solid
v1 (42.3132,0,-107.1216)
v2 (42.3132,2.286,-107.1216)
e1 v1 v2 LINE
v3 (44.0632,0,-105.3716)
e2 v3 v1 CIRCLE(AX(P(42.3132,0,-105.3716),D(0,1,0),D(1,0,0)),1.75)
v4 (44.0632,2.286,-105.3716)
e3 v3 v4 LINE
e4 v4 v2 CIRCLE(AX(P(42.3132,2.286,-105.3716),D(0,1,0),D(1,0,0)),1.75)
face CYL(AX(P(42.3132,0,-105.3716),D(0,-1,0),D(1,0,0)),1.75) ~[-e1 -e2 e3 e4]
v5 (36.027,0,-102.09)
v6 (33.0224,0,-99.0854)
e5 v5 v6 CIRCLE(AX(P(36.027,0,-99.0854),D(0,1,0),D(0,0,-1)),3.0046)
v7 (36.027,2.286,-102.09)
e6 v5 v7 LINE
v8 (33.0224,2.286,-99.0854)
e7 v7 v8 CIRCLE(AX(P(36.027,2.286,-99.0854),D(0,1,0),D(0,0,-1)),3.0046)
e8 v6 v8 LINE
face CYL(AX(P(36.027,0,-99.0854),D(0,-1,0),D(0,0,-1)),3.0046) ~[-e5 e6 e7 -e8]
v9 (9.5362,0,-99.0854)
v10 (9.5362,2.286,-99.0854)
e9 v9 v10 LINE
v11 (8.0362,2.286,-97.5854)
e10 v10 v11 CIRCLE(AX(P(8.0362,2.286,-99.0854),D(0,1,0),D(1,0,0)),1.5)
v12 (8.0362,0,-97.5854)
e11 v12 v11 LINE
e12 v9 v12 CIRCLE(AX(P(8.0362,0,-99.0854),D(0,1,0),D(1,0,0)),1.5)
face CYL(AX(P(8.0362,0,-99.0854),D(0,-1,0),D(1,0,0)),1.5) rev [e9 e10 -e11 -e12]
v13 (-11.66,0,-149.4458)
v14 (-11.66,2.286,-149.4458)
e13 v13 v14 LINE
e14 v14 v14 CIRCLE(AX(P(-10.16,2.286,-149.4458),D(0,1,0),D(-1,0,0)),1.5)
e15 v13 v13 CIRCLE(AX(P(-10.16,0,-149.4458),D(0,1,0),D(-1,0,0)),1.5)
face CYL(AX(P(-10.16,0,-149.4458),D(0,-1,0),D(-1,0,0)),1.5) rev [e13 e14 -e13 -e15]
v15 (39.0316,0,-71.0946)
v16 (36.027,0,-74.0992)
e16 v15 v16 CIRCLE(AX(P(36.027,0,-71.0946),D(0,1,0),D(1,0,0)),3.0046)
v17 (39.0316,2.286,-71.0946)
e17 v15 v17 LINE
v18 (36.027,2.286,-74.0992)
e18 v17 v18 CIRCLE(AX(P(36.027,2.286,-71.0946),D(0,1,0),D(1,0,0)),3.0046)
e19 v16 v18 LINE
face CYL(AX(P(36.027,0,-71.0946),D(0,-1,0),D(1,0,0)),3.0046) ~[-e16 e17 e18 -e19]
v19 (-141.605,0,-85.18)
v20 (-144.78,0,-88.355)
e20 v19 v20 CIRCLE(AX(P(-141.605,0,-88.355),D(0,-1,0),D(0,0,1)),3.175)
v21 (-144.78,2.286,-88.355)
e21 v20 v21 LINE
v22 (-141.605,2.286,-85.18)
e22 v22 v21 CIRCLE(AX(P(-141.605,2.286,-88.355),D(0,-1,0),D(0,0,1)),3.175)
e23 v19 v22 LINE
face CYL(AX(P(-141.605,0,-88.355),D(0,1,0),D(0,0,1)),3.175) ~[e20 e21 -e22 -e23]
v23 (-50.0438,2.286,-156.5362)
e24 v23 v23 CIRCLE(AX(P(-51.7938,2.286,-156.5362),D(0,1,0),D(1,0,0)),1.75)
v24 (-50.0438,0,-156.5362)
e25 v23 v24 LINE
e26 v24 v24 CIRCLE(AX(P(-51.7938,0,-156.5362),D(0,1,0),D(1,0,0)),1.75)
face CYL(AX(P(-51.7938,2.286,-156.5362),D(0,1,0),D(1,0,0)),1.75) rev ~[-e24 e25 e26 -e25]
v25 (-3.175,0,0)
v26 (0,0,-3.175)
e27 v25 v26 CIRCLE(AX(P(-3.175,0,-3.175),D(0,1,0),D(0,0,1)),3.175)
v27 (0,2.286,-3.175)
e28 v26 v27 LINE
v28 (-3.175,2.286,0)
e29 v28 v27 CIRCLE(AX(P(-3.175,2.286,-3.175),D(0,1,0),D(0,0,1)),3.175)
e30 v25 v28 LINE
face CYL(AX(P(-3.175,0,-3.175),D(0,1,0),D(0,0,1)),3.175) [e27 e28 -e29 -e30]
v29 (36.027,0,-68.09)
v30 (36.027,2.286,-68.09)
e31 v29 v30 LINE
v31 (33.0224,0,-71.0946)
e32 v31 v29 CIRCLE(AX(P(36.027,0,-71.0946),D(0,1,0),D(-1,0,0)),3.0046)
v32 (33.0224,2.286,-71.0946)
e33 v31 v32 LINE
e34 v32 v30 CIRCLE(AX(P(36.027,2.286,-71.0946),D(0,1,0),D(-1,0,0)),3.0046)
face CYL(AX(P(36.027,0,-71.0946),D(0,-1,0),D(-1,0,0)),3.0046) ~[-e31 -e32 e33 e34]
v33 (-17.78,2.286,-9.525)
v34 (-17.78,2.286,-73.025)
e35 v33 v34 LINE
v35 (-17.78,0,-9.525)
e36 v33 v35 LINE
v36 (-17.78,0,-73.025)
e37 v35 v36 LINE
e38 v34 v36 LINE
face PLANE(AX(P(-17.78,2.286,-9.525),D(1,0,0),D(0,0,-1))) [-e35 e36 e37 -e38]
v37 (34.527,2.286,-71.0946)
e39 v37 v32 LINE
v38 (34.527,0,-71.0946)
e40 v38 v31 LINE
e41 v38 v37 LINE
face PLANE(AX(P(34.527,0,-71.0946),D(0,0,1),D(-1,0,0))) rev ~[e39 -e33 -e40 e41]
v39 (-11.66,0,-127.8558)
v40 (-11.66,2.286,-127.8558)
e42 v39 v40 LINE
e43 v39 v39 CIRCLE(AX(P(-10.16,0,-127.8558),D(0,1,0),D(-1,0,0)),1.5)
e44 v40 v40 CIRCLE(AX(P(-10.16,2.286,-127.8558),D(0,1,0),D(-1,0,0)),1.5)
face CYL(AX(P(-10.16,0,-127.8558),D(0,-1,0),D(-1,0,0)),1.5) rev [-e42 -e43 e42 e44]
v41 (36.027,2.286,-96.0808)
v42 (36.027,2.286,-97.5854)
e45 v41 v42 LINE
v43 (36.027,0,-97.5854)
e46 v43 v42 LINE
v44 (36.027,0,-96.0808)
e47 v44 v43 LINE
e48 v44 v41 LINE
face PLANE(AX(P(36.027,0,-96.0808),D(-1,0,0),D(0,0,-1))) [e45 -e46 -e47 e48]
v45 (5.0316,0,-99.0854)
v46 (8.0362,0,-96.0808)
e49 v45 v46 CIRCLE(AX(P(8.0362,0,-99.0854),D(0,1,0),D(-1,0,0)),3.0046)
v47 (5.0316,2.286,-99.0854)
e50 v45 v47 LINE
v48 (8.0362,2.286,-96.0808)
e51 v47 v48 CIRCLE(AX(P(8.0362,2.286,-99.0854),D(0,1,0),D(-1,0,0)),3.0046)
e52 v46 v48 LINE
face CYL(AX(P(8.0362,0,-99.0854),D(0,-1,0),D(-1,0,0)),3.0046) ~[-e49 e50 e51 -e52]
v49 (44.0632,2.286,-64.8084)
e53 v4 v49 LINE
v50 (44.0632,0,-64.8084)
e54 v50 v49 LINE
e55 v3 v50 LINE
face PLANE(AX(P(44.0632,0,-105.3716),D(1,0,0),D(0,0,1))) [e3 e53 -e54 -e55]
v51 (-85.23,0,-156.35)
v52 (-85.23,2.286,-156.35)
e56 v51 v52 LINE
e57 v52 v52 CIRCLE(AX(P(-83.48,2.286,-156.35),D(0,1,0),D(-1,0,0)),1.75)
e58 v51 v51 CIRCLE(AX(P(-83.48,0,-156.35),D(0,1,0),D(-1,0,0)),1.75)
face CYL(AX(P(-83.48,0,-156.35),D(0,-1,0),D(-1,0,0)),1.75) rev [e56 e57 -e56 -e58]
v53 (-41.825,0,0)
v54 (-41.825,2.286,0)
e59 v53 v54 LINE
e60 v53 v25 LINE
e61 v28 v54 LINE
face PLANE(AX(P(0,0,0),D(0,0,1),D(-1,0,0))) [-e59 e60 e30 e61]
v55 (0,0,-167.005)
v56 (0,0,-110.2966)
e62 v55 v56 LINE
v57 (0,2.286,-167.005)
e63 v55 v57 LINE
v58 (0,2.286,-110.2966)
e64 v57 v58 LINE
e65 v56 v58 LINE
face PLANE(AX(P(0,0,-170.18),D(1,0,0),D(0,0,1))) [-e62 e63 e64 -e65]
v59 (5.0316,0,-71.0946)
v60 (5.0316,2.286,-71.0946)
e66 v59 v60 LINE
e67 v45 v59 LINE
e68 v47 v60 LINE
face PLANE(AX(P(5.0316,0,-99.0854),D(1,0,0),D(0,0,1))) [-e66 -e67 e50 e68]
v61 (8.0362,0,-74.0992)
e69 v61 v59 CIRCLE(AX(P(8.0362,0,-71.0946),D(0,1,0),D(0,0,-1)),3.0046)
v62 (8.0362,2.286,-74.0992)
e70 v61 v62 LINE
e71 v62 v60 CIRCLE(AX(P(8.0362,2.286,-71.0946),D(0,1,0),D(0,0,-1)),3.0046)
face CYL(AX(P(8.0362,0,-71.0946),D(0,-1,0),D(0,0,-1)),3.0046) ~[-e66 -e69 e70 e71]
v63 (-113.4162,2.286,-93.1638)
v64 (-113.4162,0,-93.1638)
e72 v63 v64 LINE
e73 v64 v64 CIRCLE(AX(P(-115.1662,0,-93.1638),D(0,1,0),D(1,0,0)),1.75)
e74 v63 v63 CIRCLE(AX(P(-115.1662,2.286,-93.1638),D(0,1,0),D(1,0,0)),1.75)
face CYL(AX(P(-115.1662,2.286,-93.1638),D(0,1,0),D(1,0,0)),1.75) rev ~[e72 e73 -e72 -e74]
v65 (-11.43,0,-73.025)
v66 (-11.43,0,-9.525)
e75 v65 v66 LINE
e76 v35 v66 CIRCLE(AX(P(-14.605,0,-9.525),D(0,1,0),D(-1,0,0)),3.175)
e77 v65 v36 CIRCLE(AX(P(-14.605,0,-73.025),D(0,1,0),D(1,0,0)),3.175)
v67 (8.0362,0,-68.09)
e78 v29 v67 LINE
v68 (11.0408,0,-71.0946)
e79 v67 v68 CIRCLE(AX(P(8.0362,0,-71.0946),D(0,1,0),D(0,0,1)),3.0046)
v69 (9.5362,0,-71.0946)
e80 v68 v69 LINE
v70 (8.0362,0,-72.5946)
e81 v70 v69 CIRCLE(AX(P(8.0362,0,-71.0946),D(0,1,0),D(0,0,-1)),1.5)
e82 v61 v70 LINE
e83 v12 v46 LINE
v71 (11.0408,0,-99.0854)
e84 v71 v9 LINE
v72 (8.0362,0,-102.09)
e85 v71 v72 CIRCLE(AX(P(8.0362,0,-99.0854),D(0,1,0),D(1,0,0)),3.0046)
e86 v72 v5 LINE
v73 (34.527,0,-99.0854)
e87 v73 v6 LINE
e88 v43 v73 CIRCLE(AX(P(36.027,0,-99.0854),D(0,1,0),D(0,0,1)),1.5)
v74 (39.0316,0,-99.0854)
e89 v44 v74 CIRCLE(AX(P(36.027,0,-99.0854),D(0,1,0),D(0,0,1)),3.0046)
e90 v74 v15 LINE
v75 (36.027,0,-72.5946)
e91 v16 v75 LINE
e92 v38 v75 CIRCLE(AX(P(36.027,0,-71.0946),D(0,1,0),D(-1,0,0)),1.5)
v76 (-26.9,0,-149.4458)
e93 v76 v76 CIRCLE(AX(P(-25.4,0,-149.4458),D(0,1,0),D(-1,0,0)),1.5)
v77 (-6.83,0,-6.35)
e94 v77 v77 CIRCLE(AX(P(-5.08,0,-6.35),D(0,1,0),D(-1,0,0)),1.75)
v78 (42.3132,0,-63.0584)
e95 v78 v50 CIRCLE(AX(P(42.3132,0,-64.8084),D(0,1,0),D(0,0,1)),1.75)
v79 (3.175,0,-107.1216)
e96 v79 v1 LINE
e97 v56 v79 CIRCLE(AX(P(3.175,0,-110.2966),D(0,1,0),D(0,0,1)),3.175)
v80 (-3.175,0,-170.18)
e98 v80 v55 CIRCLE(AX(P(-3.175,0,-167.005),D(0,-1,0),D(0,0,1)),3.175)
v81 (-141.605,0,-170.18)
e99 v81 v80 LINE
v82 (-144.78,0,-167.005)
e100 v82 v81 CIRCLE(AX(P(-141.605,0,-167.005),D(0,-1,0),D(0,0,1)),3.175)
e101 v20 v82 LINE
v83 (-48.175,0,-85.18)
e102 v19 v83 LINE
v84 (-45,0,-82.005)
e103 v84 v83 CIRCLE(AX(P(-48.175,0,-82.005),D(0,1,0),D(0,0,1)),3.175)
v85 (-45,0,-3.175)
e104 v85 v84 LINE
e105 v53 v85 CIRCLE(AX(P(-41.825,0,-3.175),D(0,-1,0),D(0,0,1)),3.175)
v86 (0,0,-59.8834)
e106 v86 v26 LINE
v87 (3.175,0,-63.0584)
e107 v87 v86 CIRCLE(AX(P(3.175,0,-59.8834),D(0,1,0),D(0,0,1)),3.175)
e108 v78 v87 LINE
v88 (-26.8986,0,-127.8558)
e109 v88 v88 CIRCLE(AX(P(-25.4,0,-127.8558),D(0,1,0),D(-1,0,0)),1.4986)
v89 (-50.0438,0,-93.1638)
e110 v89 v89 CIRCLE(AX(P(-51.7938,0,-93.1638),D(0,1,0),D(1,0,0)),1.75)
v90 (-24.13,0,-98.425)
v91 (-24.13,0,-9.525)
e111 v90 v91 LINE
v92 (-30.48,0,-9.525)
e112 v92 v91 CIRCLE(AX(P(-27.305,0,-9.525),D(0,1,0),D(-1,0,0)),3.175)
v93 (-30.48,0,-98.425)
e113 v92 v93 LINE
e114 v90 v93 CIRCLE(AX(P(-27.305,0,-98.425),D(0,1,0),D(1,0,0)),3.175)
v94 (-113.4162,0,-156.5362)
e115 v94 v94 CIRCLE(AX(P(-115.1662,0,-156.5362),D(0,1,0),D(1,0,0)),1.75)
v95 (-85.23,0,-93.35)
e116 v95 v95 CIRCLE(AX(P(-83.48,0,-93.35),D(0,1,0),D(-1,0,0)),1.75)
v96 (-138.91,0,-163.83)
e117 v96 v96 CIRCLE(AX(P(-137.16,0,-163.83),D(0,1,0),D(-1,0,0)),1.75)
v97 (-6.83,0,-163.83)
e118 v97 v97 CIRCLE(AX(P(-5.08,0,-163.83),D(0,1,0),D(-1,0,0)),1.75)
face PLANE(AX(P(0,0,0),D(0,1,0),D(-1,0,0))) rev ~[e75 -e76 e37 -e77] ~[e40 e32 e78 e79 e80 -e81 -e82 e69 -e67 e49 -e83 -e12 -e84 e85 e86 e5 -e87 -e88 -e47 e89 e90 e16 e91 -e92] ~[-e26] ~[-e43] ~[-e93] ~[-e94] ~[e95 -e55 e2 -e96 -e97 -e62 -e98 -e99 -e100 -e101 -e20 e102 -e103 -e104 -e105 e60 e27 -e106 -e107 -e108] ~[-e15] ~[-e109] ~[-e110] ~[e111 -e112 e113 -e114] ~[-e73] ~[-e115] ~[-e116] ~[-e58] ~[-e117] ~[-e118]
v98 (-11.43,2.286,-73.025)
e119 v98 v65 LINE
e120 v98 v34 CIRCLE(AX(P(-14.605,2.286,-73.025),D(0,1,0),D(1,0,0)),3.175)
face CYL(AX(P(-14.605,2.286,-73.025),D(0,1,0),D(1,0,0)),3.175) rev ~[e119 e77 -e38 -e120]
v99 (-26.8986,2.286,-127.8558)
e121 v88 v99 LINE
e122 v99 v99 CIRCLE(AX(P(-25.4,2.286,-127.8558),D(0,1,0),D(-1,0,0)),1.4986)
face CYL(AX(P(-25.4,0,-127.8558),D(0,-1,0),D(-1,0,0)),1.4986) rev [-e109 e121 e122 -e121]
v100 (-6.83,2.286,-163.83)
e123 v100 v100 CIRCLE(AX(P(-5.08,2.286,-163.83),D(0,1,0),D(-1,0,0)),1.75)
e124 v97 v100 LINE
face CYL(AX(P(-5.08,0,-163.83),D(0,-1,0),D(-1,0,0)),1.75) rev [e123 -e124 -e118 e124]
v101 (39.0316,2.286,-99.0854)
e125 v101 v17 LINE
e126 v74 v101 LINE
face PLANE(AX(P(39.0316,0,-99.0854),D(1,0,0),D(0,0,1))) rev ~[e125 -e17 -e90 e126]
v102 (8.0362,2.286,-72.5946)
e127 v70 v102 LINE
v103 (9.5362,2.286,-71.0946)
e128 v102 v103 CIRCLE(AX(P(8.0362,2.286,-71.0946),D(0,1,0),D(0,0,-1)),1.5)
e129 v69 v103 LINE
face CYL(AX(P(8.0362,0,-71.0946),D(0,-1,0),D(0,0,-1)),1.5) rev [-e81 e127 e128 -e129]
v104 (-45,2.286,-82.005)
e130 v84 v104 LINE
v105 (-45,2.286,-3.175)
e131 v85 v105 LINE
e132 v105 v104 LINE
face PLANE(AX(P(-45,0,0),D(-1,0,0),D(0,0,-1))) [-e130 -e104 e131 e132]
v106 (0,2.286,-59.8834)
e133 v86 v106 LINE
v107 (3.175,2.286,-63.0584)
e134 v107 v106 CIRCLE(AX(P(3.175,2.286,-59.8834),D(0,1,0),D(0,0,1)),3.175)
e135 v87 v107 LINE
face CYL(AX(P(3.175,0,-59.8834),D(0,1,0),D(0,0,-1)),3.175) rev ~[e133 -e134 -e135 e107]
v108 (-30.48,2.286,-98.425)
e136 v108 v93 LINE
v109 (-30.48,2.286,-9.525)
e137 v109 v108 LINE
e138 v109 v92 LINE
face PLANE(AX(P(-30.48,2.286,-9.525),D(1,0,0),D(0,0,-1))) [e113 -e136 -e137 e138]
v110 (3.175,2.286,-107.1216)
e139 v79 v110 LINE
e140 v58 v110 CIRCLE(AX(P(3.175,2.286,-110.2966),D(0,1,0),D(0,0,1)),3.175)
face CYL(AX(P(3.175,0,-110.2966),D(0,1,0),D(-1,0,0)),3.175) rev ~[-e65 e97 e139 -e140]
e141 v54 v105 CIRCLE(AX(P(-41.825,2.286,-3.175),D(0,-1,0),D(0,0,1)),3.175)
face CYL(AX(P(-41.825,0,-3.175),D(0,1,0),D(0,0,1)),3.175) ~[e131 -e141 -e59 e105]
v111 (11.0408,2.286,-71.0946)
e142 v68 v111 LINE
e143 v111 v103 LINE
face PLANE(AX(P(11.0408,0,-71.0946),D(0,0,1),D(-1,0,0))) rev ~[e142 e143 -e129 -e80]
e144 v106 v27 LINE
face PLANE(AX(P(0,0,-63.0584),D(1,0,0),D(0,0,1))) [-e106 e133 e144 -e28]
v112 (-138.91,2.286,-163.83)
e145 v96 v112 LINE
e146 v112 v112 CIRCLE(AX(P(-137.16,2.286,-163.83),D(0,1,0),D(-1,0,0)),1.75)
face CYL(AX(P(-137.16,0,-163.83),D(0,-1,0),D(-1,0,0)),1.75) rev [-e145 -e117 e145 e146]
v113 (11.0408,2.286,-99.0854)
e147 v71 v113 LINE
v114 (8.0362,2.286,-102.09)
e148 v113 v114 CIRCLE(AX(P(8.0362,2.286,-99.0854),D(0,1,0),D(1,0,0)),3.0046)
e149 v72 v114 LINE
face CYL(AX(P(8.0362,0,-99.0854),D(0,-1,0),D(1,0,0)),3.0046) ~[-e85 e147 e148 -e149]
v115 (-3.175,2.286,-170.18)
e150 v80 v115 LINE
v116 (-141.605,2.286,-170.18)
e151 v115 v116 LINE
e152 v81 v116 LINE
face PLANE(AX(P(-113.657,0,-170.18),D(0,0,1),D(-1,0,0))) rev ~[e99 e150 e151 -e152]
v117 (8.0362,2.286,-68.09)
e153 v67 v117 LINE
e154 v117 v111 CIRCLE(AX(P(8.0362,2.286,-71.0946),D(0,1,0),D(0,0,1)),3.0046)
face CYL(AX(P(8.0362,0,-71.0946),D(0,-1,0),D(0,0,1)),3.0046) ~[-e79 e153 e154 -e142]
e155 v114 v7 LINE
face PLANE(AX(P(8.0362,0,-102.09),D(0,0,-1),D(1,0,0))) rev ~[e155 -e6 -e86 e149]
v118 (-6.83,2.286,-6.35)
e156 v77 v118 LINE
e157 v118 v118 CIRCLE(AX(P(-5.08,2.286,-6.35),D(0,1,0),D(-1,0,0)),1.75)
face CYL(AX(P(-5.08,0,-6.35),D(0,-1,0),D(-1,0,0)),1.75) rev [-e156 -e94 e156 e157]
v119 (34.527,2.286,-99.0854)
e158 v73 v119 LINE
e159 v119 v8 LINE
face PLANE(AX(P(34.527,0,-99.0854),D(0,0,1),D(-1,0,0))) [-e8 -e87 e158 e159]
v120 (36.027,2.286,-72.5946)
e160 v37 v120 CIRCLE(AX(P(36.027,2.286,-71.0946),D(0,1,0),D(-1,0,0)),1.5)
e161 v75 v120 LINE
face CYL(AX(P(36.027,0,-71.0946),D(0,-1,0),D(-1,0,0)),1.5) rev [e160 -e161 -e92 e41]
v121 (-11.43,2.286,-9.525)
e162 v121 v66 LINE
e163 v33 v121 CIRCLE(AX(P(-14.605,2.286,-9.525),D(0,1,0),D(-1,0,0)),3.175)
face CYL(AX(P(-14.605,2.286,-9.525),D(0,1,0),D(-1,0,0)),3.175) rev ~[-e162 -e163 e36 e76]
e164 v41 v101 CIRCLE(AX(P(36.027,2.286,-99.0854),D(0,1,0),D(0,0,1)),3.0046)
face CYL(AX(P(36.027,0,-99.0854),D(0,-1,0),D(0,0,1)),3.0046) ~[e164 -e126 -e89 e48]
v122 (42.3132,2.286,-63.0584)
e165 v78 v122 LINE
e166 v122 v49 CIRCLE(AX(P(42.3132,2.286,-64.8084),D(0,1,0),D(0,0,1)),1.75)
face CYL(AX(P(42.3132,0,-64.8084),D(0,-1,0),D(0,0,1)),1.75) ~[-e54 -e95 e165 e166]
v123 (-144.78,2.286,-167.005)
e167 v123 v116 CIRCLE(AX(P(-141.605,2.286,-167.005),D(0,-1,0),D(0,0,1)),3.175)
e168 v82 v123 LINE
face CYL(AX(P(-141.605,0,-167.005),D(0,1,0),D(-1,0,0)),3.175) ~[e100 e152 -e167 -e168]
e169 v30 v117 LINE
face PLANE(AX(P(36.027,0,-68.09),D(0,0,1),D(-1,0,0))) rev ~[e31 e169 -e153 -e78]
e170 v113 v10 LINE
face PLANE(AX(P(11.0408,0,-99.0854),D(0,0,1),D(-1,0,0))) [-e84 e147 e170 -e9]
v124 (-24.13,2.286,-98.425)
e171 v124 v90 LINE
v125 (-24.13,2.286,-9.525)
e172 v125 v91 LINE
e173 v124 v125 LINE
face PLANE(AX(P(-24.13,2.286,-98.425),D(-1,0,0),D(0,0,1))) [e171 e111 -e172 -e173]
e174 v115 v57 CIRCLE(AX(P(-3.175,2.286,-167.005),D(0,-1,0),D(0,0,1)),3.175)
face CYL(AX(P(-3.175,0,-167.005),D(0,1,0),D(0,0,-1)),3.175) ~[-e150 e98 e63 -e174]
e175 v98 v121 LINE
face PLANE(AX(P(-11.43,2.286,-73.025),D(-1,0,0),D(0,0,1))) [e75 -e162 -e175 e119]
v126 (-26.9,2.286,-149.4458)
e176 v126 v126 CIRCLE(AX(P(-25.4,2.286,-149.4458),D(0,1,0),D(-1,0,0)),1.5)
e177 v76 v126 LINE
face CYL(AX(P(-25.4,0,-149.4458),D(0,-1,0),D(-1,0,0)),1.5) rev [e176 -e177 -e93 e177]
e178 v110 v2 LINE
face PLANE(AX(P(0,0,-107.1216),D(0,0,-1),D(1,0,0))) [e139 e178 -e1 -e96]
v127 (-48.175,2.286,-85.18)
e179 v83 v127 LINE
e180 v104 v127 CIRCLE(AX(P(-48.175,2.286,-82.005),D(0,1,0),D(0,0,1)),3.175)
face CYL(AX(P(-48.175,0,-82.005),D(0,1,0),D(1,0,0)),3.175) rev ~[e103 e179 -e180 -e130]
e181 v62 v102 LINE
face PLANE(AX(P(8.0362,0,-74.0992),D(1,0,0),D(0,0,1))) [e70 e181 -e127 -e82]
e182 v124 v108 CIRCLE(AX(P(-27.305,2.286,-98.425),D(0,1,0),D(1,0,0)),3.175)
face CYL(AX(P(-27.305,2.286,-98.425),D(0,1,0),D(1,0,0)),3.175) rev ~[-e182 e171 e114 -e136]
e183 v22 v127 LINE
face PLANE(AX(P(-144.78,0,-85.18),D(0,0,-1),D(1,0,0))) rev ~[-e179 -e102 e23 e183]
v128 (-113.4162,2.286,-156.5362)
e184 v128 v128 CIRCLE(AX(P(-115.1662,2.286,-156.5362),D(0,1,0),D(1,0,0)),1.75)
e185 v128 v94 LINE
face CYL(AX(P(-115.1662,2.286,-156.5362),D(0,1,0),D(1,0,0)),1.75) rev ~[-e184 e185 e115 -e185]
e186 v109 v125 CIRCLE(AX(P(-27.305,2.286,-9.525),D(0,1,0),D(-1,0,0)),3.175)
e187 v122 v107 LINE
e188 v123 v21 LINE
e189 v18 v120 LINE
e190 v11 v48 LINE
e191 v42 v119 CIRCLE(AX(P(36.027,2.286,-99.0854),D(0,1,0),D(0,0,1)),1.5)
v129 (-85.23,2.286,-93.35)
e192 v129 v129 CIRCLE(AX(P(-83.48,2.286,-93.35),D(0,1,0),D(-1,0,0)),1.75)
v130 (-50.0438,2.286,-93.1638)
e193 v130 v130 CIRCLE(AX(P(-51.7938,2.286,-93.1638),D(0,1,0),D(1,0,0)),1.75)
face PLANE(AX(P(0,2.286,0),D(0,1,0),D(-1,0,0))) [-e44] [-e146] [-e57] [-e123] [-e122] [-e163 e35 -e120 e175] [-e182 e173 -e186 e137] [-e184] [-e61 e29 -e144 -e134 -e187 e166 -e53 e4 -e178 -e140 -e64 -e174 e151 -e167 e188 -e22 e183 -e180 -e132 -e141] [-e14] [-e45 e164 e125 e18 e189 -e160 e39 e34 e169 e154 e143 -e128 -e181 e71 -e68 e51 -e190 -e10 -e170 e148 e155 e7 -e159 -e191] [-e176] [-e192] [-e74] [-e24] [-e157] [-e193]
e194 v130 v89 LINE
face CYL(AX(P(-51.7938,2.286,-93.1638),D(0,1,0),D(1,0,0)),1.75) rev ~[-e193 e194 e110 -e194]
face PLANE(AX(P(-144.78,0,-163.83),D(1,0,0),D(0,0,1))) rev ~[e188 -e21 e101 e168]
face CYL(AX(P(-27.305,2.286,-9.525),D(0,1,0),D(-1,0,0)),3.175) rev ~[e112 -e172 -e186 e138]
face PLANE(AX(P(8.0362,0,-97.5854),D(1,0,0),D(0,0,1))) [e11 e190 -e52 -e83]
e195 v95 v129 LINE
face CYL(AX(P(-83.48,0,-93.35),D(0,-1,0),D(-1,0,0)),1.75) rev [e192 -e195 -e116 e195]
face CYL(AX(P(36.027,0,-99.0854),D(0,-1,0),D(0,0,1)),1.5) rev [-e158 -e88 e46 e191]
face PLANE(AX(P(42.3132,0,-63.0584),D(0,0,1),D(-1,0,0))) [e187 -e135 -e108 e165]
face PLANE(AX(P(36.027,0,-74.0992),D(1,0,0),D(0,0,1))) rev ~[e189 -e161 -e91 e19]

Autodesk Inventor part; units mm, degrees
ref_plane "YZ Plane" through (0, 0, 0) normal (1, 0, 0) x (0, 1, 0)
ref_plane "XZ Plane" through (0, 0, 0) normal (0, 1, 0) x (-1, 0, 0)
ref_plane "XY Plane" through (0, 0, 0) normal (0, 0, 1) x (1, 0, 0)
sketch "Sketch1" plane through (0, 0, 0) normal (0, 1, 0) x (-1, 0, 0)
  line L0 (0, 0) -> (45, 0)
  line L1 (45, 0) -> (14.87, 0)
  line L2 (14.87, -170.18) -> (56.523, -170.18)
  line L3 (144.78, -163.83) -> (144.78, -85.18)
  line L4 (144.78, -85.18) -> (45, -85.18)
  line L5 (144.78, -163.83) -> (144.78, -170.18)
  line L6 (113.657, -170.18) -> (144.78, -170.18)
  line L7 (144.78, -170.18) -> (0, -170.18)
  line L8 (45, 0) -> (45, -85.18)
  circle A0 centre (5.08, -6.35) radius 1.75
  circle A1 centre (5.08, -163.83) radius 1.75
  circle A2 centre (137.16, -163.83) radius 1.75
  circle A3 centre (83.48, -93.35) radius 1.75
  circle A4 centre (83.48, -156.35) radius 1.75
  line L9 (-36.027, -96.0808) -> (-36.027, -97.5854)
  line L10 (-39.0316, -99.0854) -> (-39.0316, -71.0946)
  line L11 (-8.0362, -74.0992) -> (-8.0362, -72.5946)
  line L12 (-8.0362, -72.5946) -> (-8.0362, -74.0992)
  line L13 (-36.027, -68.09) -> (-8.0362, -68.09)
  arc A5 (-36.027, -96.0808) -> (-39.0316, -99.0854) centre (-36.027, -99.0854) ccw
  arc A6 (-8.0362, -68.09) -> (-11.0408, -71.0946) centre (-8.0362, -71.0946) ccw
  arc A7 (-36.027, -97.5854) -> (-34.527, -99.0854) centre (-36.027, -99.0854) ccw
  arc A8 (-36.027, -97.5854) -> (-34.527, -99.0854) centre (-36.027, -99.0854) ccw
  arc A9 (-8.0362, -72.5946) -> (-9.5362, -71.0946) centre (-8.0362, -71.0946) ccw
  arc A10 (-8.0362, -72.5946) -> (-9.5362, -71.0946) centre (-8.0362, -71.0946) ccw
  arc A11 (-8.0362, -74.0992) -> (-5.0316, -71.0946) centre (-8.0362, -71.0946) ccw
  line L14 (-5.0316, -99.0854) -> (-5.0316, -71.0946)
  line L15 (-8.0362, -102.09) -> (-36.027, -102.09)
  line L16 (-36.027, -102.09) -> (-8.0362, -102.09)
  arc A12 (-9.5362, -99.0854) -> (-8.0362, -97.5854) centre (-8.0362, -99.0854) ccw
  arc A13 (-9.5362, -99.0854) -> (-8.0362, -97.5854) centre (-8.0362, -99.0854) ccw
  arc A14 (-34.527, -71.0946) -> (-36.027, -72.5946) centre (-36.027, -71.0946) ccw
  arc A15 (-34.527, -71.0946) -> (-36.027, -72.5946) centre (-36.027, -71.0946) ccw
  line L17 (-8.0362, -97.5854) -> (-8.0362, -96.0808)
  arc A16 (-5.0316, -99.0854) -> (-8.0362, -96.0808) centre (-8.0362, -99.0854) ccw
  arc A17 (-5.0316, -99.0854) -> (-8.0362, -96.0808) centre (-8.0362, -99.0854) ccw
  line L18 (-8.0362, -97.5854) -> (-8.0362, -96.0808)
  line L19 (-34.527, -71.0946) -> (-33.0224, -71.0946)
  arc A18 (-33.0224, -71.0946) -> (-36.027, -68.09) centre (-36.027, -71.0946) ccw
  arc A19 (-39.0316, -71.0946) -> (-36.027, -74.0992) centre (-36.027, -71.0946) ccw
  arc A20 (-39.0316, -71.0946) -> (-36.027, -74.0992) centre (-36.027, -71.0946) ccw
  arc A21 (-33.0224, -71.0946) -> (-36.027, -68.09) centre (-36.027, -71.0946) ccw
  line L20 (-11.0408, -71.0946) -> (-9.5362, -71.0946)
  line L21 (-9.5362, -71.0946) -> (-11.0408, -71.0946)
  line L22 (-36.027, -97.5854) -> (-36.027, -96.0808)
  arc A22 (-36.027, -96.0808) -> (-39.0316, -99.0854) centre (-36.027, -99.0854) ccw
  line L23 (-34.527, -99.0854) -> (-33.0224, -99.0854)
  line L24 (-34.527, -99.0854) -> (-33.0224, -99.0854)
  arc A23 (-36.027, -102.09) -> (-33.0224, -99.0854) centre (-36.027, -99.0854) ccw
  line L25 (-11.0408, -99.0854) -> (-9.5362, -99.0854)
  line L26 (-11.0408, -99.0854) -> (-9.5362, -99.0854)
  arc A24 (-11.0408, -99.0854) -> (-8.0362, -102.09) centre (-8.0362, -99.0854) ccw
  line L27 (-36.027, -74.0992) -> (-36.027, -72.5946)
  line L28 (-36.027, -72.5946) -> (-36.027, -74.0992)
  line L29 (-36.027, -99.0854) -> (-23.327, -99.0854) construction
  line L30 (-36.027, -99.0854) -> (-27.137, -99.0854) construction
  arc A25 (-44.0632, -105.3716) -> (-42.3132, -107.1216) centre (-42.3132, -105.3716) ccw
  arc A26 (-42.3132, -63.0584) -> (-44.0632, -64.8084) centre (-42.3132, -64.8084) ccw
  line L31 (-42.3132, -63.0584) -> (0, -63.0584)
  line L32 (0, -107.1216) -> (-42.3132, -107.1216)
  line L33 (-44.0632, -105.3716) -> (-44.0632, -64.8084)
  line L34 (0, -170.18) -> (0, -107.1216)
  line L35 (0, -63.0584) -> (0, 0)
  circle A27 centre (10.16, -127.8558) radius 1.5
  circle A28 centre (10.16, -149.4458) radius 1.5
  circle A29 centre (25.4, -149.4458) radius 1.5
  circle A30 centre (25.4, -127.8558) radius 1.4986
  point P0 (-2.54, 0.1)
  dimension "d3" = 3.5
  dimension "d5" = 3.5
  dimension "d6" = 3.5
  dimension "d9" = 3
  dimension "d10" = 3
  dimension "d11" = 3
  dimension "d12" = 2.9972
extrude "Extrusion1" add sketch "Sketch1" along normal blind 2.286
fillet "Fillet1" radius 3.175 8 edges at (-45, 1.143, 0) (0, 1.143, 0) (0, 1.143, -63.0584) (0, 1.143, -107.1216) (-45, 1.143, -85.18) (-144.78, 1.143, -85.18) (-144.78, 1.143, -170.18) (0, 1.143, -170.18)
sketch "Sketch2" plane through (0, 2.286, 0) normal (0, 1, 0) x (1, 0, 0)
  circle A0 centre (-51.7938, 156.5362) radius 1.75
  circle A1 centre (-115.1662, 156.5362) radius 1.75
  circle A2 centre (-115.1662, 93.1638) radius 1.65
  circle A3 centre (-115.1662, 93.1638) radius 1.75
  circle A4 centre (-51.7938, 93.1638) radius 1.65
  circle A5 centre (-51.7938, 93.1638) radius 1.75
  line L0 (-144.78, 167.005) -> (-144.78, 88.355) projected
  line L1 (0, 110.2966) -> (0, 167.005) projected
  circle A6 centre (-83.48, 93.35) radius 1.75 projected
  circle A7 centre (-83.48, 156.35) radius 1.75 projected
  point P0 (0, 0)
  dimension "d17" = 3.5
  dimension "d18" = 3.5
  dimension "d19" = 3.5
  dimension "d20" = 3.5
extrude "Extrusion2" cut sketch "Sketch2" against normal blind 25.4 contours A0 | A1 | A2 | A3 | A4 | A5
sketch "Sketch3" plane through (0, 2.286, 0) normal (0, 1, 0) x (1, 0, 0)
  circle A0 centre (-5.08, 6.35) radius 1.75 projected
  arc A1 (-17.78, 9.525) -> (-11.43, 9.525) centre (-14.605, 9.525) ccw
  arc A2 (-30.48, 9.525) -> (-24.13, 9.525) centre (-27.305, 9.525) ccw
  arc A3 (-11.43, 73.025) -> (-17.78, 73.025) centre (-14.605, 73.025) ccw
  arc A4 (-24.13, 98.425) -> (-30.48, 98.425) centre (-27.305, 98.425) ccw
  line L0 (-30.48, 9.525) -> (-30.48, 98.425)
  line L1 (-24.13, 98.425) -> (-24.13, 9.525)
  line L2 (-17.78, 9.525) -> (-17.78, 73.025)
  line L3 (-11.43, 73.025) -> (-11.43, 9.525)
  point P0 (0, 0)
extrude "Extrusion3" cut sketch "Sketch3" against normal blind 25.4 contours L2 A3 L3 A1 | L0 A4 L1 A2
sketch "Sketch4" plane through (0, 2.286, 0) normal (0, 1, 0) x (1, 0, 0)
  circle A0 centre (-5.08, 6.35) radius 1.75 projected
  circle A1 centre (-5.08, 6.35) radius 1.75
  arc A2 (-5.08, 11.43) -> (-5.08, 1.27) centre (-5.08, 6.35) ccw
  line L0 (0, 3.175) -> (0, 59.8834) projected
  line L1 (-5.08, 1.27) -> (5.0316, 1.27)
  line L2 (5.0316, 1.27) -> (5.0316, 63.0584)
  line L3 (-5.08, 11.43) -> (0, 11.43)
  line L4 (0, 11.43) -> (0, 59.8834)
  line L5 (3.175, 63.0584) -> (42.3132, 63.0584) projected
  line L6 (5.0316, 63.0584) -> (42.3132, 63.0584)
  line L7 (44.0632, 64.8084) -> (44.0632, 105.3716) projected
  line L8 (44.0632, 64.8084) -> (44.0632, 105.3716)
  line L9 (42.3132, 107.1216) -> (3.175, 107.1216) projected
  line L10 (42.3132, 107.1216) -> (5.0316, 107.1216)
  line L11 (5.0316, 107.1216) -> (5.0316, 170.18)
  circle A3 centre (-5.08, 163.83) radius 1.75 projected
  circle A4 centre (-5.08, 163.83) radius 1.75
  circle A5 centre (-5.08, 163.83) radius 5.08
  line L12 (0, 110.2966) -> (0, 167.005) projected
  line L13 (-5.08, 168.91) -> (5.0316, 168.91)
  line L14 (0, 59.8834) -> (0, 158.75)
  line L15 (0, 158.75) -> (-5.08, 158.75)
  arc A6 (8.0362, 72.5946) -> (9.5362, 71.0946) centre (8.0362, 71.0946) ccw projected
  arc A7 (8.0362, 72.5946) -> (9.5362, 71.0946) centre (8.0362, 71.0946) ccw
  arc A8 (34.527, 71.0946) -> (36.027, 72.5946) centre (36.027, 71.0946) ccw projected
  arc A9 (34.527, 71.0946) -> (36.027, 72.5946) centre (36.027, 71.0946) ccw
  arc A10 (36.027, 97.5854) -> (34.527, 99.0854) centre (36.027, 99.0854) ccw projected
  arc A11 (36.027, 97.5854) -> (34.527, 99.0854) centre (36.027, 99.0854) ccw
  arc A12 (9.5362, 99.0854) -> (8.0362, 97.5854) centre (8.0362, 99.0854) ccw projected
  arc A13 (9.5362, 99.0854) -> (8.0362, 97.5854) centre (8.0362, 99.0854) ccw
  arc A14 (8.0362, 68.09) -> (11.0408, 71.0946) centre (8.0362, 71.0946) ccw projected
  arc A15 (33.0224, 71.0946) -> (36.027, 68.09) centre (36.027, 71.0946) ccw projected
  line L16 (11.0408, 99.0854) -> (9.5362, 99.0854) projected
  line L17 (36.027, 68.09) -> (8.0362, 68.09) projected
  line L18 (8.0362, 68.09) -> (36.027, 68.09)
  line L19 (5.0316, 99.0854) -> (5.0316, 71.0946) projected
  line L20 (5.0316, 71.0946) -> (5.0316, 99.0854)
  line L21 (8.0362, 102.09) -> (36.027, 102.09) projected
  line L22 (8.0362, 102.09) -> (36.027, 102.09)
  line L23 (39.0316, 71.0946) -> (39.0316, 99.0854) projected
  line L24 (39.0316, 71.0946) -> (39.0316, 99.0854)
  line L25 (33.0224, 71.0946) -> (34.527, 71.0946) projected
  line L26 (34.527, 71.0946) -> (33.0224, 71.0946)
  line L27 (36.027, 72.5946) -> (36.027, 74.0992) projected
  line L28 (36.027, 72.5946) -> (36.027, 74.0992)
  line L29 (9.5362, 71.0946) -> (11.0408, 71.0946) projected
  line L30 (11.0408, 71.0946) -> (9.5362, 71.0946)
  line L31 (8.0362, 74.0992) -> (8.0362, 72.5946) projected
  line L32 (8.0362, 72.5946) -> (8.0362, 74.0992)
  line L33 (8.0362, 96.0808) -> (8.0362, 97.5854) projected
  line L34 (8.0362, 96.0808) -> (8.0362, 97.5854)
  arc A16 (11.0408, 99.0854) -> (8.0362, 102.09) centre (8.0362, 99.0854) ccw projected
  line L35 (9.5362, 99.0854) -> (11.0408, 99.0854)
  line L36 (36.027, 97.5854) -> (36.027, 96.0808) projected
  line L37 (36.027, 96.0808) -> (36.027, 97.5854)
  line L38 (33.0224, 99.0854) -> (34.527, 99.0854) projected
  line L39 (34.527, 99.0854) -> (33.0224, 99.0854)
  arc A17 (36.027, 96.0808) -> (39.0316, 99.0854) centre (36.027, 99.0854) ccw
  arc A18 (36.027, 102.09) -> (33.0224, 99.0854) centre (36.027, 99.0854) ccw
  arc A19 (33.0224, 71.0946) -> (36.027, 68.09) centre (36.027, 71.0946) ccw
  arc A20 (39.0316, 71.0946) -> (36.027, 74.0992) centre (36.027, 71.0946) ccw
  arc A21 (8.0362, 68.09) -> (11.0408, 71.0946) centre (8.0362, 71.0946) ccw
  arc A22 (8.0362, 74.0992) -> (5.0316, 71.0946) centre (8.0362, 71.0946) ccw
  arc A23 (11.0408, 99.0854) -> (8.0362, 102.09) centre (8.0362, 99.0854) ccw
  arc A24 (5.0316, 99.0854) -> (8.0362, 96.0808) centre (8.0362, 99.0854) ccw
  point P0 (0, 0)
  point P1 (3.175, 59.8834)
properties part number "ThirdLayer"
